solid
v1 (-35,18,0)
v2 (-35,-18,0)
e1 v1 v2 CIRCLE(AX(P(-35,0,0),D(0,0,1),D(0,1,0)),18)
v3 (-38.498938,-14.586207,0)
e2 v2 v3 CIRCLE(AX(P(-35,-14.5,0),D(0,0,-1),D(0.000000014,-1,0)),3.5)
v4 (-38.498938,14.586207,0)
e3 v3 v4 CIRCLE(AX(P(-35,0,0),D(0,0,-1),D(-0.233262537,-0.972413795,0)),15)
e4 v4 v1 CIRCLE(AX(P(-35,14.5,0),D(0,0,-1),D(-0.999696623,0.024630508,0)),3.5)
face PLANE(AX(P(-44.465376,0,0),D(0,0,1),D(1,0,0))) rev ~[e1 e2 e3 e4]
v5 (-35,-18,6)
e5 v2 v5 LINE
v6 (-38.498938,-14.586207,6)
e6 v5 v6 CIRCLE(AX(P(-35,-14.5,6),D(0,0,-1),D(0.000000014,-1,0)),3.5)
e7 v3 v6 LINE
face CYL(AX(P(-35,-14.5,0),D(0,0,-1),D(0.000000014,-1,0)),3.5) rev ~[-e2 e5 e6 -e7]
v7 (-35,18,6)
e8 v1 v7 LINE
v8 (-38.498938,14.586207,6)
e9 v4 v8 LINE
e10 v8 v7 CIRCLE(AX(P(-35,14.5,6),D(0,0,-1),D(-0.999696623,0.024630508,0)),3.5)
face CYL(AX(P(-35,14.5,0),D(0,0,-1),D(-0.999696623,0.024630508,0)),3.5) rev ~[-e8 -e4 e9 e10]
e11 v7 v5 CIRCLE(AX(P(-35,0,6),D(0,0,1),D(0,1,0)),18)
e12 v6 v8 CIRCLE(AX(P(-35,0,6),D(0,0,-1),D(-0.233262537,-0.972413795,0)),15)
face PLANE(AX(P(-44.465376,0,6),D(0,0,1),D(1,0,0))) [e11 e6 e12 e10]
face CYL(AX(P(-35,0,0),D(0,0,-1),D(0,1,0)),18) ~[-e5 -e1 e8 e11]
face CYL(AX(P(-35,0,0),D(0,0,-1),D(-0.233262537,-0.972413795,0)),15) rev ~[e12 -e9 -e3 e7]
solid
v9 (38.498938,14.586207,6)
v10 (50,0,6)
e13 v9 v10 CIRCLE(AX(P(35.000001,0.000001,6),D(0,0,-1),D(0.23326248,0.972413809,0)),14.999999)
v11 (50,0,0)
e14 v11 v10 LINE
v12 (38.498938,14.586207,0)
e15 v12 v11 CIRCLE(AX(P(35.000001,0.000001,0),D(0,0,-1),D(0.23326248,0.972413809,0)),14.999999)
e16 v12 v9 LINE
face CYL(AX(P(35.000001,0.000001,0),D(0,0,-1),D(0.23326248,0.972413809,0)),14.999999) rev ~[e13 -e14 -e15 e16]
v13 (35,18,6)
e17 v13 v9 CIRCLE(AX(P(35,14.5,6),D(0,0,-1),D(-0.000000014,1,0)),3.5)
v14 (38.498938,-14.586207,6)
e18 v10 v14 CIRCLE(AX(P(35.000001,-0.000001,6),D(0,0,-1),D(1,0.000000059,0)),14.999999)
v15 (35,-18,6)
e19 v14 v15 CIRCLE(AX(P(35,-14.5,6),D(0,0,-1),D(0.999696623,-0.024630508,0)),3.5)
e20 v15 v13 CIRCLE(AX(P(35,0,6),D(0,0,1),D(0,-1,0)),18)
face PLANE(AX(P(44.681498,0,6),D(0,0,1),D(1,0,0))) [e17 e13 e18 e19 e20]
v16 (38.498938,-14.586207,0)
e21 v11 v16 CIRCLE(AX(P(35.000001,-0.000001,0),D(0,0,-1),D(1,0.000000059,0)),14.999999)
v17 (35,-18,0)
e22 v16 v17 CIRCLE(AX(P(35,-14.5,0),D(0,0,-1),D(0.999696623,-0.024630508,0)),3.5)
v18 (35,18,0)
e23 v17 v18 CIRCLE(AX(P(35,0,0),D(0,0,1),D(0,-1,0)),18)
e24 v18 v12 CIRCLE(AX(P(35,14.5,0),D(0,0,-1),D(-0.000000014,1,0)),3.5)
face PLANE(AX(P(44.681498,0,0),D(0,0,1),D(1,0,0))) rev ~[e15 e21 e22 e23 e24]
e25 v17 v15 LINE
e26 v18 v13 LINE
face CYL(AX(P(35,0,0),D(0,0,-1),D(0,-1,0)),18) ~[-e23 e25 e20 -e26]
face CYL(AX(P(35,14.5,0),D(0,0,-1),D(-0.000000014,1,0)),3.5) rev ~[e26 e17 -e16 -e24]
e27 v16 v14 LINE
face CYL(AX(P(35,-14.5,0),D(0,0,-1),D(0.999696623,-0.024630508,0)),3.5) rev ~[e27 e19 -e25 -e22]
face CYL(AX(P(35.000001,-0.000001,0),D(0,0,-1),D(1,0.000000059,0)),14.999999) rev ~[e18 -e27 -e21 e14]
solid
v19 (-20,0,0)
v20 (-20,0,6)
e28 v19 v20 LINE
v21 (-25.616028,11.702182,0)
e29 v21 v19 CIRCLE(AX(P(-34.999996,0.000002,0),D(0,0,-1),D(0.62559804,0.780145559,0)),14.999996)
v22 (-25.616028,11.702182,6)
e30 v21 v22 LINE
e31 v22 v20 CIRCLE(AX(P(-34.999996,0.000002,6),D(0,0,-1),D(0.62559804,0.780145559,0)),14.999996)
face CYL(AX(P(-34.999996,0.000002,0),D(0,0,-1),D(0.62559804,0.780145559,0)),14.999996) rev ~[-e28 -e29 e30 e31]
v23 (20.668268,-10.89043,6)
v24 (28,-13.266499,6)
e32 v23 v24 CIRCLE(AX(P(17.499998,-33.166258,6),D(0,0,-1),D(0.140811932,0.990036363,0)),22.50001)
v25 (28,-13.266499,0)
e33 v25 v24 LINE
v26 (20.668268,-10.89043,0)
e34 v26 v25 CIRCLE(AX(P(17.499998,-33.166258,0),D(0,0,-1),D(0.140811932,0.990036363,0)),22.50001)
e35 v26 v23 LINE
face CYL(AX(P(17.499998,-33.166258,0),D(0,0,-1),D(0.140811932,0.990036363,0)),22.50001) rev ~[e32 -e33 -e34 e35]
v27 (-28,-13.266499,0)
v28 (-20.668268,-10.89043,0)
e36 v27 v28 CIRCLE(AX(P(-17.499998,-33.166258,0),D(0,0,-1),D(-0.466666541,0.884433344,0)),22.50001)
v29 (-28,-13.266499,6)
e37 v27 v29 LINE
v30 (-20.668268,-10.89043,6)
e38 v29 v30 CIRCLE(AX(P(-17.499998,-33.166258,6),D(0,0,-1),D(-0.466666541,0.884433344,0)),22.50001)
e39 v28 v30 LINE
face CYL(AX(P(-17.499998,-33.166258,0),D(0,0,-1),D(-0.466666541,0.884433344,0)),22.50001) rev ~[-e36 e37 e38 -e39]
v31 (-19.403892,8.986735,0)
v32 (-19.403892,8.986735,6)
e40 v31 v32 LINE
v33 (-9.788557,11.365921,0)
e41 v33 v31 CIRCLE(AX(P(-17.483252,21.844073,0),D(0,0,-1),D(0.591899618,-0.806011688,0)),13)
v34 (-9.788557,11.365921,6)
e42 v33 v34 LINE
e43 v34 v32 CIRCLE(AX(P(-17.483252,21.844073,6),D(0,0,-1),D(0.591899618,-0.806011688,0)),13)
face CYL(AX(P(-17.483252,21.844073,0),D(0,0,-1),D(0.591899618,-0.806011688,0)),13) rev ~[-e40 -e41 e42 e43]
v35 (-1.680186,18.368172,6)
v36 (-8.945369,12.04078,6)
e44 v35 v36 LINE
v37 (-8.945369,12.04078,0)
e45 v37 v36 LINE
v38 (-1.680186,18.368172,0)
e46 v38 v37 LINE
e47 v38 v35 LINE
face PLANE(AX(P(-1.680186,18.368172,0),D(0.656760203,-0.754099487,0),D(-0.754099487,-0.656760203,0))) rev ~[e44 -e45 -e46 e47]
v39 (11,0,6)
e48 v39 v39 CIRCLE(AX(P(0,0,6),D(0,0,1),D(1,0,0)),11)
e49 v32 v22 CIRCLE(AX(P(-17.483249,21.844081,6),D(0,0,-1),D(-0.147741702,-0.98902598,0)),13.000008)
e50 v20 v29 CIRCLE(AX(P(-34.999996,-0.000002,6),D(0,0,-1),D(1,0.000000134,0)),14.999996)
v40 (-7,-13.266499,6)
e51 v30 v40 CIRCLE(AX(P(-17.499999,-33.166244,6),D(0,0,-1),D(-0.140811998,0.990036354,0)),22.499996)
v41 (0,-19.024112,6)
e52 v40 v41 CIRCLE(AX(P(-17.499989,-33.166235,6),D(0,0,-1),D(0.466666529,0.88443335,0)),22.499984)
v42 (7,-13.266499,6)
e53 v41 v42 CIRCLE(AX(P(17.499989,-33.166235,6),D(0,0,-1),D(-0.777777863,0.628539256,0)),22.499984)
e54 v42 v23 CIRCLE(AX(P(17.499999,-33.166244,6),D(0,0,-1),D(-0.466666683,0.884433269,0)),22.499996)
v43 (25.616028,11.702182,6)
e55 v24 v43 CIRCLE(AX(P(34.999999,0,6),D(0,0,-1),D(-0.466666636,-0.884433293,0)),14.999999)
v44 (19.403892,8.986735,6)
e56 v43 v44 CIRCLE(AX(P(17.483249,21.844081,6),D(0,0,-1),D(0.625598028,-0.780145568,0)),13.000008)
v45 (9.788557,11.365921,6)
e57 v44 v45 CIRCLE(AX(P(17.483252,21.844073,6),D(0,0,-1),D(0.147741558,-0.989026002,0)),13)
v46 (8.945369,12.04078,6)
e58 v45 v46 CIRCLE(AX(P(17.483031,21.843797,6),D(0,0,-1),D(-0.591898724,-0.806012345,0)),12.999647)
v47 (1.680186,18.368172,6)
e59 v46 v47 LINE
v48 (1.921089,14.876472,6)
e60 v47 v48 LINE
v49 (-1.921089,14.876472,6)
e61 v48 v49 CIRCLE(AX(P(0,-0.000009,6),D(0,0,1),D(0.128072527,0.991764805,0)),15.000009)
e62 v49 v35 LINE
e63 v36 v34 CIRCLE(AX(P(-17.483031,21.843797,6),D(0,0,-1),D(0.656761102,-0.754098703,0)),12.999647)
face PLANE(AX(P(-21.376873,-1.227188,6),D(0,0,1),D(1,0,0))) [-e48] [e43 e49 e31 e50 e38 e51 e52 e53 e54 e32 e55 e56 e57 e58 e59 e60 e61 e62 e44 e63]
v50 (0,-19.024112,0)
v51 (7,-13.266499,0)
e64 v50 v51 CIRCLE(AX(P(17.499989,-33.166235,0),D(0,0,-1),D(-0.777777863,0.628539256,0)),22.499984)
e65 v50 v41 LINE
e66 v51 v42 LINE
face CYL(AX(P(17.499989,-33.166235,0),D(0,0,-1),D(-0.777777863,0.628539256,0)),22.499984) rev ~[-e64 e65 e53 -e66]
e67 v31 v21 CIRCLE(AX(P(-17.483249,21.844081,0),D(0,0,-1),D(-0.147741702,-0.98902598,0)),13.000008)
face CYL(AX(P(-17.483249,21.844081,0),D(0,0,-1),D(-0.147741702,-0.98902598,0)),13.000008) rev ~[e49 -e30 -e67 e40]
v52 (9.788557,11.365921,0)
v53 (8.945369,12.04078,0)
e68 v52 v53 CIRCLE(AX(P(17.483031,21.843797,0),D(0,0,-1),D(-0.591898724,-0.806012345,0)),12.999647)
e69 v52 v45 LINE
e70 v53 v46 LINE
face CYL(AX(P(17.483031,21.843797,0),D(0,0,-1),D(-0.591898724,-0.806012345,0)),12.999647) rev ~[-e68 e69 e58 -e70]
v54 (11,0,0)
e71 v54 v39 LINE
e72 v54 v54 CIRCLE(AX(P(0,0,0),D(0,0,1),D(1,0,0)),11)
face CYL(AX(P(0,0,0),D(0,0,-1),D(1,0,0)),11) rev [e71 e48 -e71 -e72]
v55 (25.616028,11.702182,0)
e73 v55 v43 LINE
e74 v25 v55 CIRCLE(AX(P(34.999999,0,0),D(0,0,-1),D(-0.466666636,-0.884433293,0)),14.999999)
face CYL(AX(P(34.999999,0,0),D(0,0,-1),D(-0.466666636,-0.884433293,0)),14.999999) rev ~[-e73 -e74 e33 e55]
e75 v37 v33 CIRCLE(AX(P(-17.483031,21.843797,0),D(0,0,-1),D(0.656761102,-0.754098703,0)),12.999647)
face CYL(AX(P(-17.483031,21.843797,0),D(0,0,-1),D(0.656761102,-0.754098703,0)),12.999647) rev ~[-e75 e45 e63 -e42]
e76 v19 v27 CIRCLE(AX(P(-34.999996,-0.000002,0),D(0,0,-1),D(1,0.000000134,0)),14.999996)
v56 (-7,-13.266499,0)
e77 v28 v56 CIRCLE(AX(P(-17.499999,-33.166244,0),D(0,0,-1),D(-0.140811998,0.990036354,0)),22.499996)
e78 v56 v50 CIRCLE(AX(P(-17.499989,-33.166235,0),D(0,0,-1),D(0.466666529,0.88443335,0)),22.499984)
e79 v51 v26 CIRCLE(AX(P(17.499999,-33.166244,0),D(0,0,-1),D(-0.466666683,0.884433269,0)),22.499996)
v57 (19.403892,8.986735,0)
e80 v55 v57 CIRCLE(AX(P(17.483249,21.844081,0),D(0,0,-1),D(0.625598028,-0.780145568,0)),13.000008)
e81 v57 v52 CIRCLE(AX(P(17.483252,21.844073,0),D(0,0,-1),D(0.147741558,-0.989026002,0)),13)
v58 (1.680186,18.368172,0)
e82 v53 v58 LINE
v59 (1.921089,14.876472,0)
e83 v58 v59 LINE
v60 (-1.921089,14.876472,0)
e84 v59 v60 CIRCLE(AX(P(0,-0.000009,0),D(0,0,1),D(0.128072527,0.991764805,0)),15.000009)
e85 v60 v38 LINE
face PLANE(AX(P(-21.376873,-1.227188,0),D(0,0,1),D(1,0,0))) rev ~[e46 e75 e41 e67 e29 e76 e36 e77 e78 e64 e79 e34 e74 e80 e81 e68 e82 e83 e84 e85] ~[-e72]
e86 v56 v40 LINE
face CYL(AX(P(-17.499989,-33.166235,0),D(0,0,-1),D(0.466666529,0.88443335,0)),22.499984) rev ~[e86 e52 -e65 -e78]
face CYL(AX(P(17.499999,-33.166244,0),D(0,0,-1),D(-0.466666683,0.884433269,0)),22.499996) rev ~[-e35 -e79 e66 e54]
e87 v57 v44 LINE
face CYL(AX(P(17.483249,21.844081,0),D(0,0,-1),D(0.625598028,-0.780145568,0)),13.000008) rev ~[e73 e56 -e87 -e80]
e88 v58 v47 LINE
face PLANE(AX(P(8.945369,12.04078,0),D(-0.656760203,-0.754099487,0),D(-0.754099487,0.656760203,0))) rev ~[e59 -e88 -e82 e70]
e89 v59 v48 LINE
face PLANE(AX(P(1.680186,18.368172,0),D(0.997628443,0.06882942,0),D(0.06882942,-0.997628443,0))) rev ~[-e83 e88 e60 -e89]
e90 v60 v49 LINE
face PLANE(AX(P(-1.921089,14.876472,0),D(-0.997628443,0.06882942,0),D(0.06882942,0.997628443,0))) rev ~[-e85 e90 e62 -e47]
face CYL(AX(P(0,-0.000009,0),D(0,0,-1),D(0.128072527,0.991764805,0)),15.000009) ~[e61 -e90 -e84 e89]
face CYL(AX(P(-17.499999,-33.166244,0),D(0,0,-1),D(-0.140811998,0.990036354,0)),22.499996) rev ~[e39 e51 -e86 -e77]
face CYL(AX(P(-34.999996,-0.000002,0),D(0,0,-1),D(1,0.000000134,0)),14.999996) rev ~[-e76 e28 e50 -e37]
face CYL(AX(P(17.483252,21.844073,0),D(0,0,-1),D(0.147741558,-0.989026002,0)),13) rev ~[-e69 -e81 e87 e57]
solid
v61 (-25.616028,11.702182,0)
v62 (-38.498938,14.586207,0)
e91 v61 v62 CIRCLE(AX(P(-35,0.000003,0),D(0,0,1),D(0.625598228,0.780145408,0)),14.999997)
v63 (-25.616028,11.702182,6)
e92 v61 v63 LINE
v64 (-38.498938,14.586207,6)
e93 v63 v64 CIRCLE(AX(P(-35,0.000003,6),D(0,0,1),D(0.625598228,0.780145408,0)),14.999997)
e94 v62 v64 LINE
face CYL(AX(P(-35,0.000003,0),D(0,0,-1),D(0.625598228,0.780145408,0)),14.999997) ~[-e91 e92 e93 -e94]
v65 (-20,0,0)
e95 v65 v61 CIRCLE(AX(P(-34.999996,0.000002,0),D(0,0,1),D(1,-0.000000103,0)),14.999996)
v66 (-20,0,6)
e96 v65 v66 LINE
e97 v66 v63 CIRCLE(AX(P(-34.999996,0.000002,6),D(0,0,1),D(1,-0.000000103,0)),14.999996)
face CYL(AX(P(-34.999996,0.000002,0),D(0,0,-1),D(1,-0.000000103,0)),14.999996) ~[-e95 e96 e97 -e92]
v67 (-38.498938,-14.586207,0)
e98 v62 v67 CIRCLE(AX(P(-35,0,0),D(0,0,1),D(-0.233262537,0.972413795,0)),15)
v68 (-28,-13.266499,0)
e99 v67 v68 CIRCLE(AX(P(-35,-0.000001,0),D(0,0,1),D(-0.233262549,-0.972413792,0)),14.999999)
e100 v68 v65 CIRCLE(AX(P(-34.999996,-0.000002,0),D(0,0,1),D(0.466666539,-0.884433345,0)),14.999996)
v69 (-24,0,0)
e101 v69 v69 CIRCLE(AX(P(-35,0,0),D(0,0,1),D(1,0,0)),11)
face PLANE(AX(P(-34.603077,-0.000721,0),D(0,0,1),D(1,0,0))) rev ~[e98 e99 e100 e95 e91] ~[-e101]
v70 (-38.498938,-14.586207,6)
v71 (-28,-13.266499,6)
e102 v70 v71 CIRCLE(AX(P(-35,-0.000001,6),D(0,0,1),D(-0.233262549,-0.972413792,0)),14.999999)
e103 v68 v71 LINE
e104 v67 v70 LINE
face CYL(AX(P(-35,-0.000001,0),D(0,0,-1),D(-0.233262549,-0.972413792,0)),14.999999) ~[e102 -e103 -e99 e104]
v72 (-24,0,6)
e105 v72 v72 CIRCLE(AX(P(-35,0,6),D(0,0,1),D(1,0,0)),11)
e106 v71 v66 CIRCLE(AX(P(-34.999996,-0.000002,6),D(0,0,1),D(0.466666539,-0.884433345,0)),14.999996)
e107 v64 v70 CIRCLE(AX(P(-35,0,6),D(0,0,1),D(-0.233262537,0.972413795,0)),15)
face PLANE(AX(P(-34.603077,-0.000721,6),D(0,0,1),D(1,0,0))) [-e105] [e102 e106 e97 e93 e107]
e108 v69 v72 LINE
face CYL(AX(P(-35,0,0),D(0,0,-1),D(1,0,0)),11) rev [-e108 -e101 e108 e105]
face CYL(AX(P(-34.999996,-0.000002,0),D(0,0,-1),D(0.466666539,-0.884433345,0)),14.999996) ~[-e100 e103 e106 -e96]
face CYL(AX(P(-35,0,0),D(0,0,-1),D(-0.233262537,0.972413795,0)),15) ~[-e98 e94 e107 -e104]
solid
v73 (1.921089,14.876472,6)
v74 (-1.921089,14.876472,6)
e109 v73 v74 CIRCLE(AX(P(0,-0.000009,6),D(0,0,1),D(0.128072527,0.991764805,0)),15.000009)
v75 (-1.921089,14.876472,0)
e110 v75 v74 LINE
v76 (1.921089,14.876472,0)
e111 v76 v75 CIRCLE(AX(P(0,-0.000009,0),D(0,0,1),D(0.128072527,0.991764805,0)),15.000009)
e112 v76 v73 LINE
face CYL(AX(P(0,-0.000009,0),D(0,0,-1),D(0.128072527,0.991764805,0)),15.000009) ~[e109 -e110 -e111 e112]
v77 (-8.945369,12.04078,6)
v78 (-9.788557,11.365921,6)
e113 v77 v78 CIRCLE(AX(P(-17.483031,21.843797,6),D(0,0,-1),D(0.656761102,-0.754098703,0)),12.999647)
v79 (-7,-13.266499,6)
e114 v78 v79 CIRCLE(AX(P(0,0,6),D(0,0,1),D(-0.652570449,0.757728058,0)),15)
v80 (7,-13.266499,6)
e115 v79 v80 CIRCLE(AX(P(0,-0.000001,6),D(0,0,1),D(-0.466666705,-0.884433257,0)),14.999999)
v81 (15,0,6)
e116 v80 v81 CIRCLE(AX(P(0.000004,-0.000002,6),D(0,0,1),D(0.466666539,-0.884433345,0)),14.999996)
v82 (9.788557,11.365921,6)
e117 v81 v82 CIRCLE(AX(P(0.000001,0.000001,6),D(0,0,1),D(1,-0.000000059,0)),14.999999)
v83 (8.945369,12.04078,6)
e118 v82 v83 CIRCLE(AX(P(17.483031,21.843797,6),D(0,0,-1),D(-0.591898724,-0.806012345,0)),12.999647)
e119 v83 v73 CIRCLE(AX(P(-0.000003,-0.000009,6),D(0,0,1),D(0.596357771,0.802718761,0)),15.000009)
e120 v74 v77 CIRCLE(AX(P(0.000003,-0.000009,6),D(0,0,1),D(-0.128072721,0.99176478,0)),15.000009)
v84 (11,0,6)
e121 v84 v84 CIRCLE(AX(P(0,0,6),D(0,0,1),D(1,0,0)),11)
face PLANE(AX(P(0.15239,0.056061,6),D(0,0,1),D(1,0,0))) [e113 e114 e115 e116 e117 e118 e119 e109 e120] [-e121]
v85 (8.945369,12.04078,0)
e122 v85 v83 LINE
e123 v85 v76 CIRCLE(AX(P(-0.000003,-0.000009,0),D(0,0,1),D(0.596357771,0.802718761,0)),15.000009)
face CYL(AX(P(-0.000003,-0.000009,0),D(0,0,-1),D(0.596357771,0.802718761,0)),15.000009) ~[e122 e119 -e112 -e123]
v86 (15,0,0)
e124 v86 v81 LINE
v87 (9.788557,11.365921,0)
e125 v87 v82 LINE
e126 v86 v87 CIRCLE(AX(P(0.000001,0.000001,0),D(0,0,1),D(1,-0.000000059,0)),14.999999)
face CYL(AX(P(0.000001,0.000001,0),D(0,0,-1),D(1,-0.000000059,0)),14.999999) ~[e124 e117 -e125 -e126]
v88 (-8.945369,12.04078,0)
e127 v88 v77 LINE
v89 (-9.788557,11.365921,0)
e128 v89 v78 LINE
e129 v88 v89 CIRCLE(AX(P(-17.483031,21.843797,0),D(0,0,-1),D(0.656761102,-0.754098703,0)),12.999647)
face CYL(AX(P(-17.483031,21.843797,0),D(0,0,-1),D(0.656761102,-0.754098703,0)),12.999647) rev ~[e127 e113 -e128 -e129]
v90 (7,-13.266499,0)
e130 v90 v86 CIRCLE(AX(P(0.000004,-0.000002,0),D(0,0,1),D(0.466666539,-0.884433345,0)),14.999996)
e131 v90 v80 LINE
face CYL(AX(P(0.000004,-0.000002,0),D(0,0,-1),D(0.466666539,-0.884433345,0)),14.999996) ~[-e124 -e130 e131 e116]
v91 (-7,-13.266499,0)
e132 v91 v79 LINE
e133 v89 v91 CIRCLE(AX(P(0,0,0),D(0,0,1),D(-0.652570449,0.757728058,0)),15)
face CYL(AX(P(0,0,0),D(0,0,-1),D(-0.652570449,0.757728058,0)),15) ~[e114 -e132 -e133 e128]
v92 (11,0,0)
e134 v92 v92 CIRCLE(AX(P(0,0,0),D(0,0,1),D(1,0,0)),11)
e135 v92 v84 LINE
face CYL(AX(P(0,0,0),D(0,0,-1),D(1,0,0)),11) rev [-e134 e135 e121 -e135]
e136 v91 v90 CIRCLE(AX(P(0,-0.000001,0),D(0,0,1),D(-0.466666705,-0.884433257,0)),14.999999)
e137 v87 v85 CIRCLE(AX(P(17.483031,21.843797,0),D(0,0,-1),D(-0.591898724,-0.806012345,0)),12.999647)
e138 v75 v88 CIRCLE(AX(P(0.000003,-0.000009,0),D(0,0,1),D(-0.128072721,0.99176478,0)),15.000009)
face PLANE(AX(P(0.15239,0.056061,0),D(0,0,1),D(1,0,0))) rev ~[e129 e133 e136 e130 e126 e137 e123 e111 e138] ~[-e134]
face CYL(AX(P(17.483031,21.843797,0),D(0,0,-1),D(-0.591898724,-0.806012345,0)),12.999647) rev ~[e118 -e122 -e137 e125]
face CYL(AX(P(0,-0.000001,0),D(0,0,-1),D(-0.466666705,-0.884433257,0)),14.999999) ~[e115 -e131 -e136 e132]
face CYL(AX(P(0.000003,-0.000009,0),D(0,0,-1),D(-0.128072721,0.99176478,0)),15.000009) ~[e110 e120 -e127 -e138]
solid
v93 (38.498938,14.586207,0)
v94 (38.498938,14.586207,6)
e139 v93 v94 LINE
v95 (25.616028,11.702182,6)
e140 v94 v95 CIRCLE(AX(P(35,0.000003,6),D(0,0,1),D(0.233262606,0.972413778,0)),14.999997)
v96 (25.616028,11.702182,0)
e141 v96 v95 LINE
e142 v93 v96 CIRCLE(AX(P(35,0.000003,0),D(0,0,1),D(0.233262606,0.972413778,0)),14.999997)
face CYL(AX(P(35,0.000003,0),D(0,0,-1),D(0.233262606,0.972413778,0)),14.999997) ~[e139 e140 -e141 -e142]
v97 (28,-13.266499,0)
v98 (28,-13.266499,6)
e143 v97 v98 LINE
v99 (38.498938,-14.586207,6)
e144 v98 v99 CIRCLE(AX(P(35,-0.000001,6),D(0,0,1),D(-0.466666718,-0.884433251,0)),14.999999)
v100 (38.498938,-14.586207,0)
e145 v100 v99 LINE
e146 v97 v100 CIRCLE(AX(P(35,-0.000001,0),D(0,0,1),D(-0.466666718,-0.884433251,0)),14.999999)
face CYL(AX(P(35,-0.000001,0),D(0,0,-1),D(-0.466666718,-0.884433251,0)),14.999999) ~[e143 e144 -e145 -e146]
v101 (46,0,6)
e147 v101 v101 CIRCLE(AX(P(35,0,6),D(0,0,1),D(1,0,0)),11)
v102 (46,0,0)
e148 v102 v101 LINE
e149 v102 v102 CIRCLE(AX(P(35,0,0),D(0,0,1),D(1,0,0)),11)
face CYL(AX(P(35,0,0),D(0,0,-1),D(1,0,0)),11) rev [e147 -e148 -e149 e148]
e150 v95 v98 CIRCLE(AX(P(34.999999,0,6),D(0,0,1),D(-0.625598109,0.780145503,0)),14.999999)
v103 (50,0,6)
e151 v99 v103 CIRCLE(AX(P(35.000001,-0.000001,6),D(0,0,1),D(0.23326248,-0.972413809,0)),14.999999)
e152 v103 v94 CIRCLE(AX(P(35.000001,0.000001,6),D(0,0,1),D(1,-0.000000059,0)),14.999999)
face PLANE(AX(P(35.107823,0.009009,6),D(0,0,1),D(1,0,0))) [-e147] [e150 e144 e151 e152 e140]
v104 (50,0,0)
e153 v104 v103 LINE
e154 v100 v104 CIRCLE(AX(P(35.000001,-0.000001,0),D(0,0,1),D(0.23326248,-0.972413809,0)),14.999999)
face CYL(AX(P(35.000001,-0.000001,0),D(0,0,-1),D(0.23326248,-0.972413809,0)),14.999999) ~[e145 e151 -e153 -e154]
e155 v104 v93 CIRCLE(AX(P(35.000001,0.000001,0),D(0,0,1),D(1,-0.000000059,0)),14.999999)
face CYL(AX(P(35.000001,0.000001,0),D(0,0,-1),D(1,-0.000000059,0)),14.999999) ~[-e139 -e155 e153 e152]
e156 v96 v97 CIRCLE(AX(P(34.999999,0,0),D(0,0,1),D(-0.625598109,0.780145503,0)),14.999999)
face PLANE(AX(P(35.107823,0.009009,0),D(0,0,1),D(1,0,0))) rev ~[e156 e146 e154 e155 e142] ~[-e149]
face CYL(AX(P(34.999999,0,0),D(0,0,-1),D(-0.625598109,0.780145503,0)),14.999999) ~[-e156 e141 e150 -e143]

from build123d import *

# Parameters (mm, degrees)
F0_R     = 11
F1_DEPTH = 6
F2_DEPTH = 6
F3_DEPTH = 6


with BuildPart() as f1:
    # F0 (on Top) → F1 (new body)
    with BuildSketch(Plane.XY):
        with BuildLine():
            ThreePointArc((15, 0), (13.635035, 6.251866), (9.788557, 11.365921))
            ThreePointArc((9.788557, 11.365921), (9.359952, 11.69459), (8.945369, 12.04078))
            ThreePointArc((8.945369, 12.04078), (5.615181, 13.90934), (1.921089, 14.876472))
            ThreePointArc((1.921089, 14.876472), (0, 15), (-1.921089, 14.876472))
            ThreePointArc((-1.921089, 14.876472), (-5.615181, 13.90934), (-8.945369, 12.04078))
            ThreePointArc((-8.945369, 12.04078), (-9.359952, 11.69459), (-9.788557, 11.365921))
            ThreePointArc((-9.788557, 11.365921), (-14.904796, -1.687324), (-7, -13.266499))
            ThreePointArc((-7, -13.266499), (0, -15), (7, -13.266499))
            ThreePointArc((7, -13.266499), (12.845233, -7.745967), (15, 0))
        make_face()
        Circle(F0_R, mode=Mode.SUBTRACT)
    extrude(amount=F1_DEPTH)


with BuildPart() as f2:
    # F0 (on Top) → F2 (new body)
    with BuildSketch(Plane.XY):
        with BuildLine():
            ThreePointArc((-35, -18), (-37.444205, -17.005167), (-38.498938, -14.586207))
            ThreePointArc((-38.498938, -14.586207), (-50, 0), (-38.498938, 14.586207))
            ThreePointArc((-38.498938, 14.586207), (-37.444205, 17.005167), (-35, 18))
            ThreePointArc((-35, 18), (-53, 0), (-35, -18))
        make_face()
        with BuildLine():
            ThreePointArc((-28, -13.266499), (-24.436628, -11.762202), (-20.668268, -10.89043))
            ThreePointArc((-20.668268, -10.89043), (-17.036305, -1.142662), (-19.403892, 8.986735))
            ThreePointArc((-19.403892, 8.986735), (-22.690094, 9.932365), (-25.616028, 11.702182))
            ThreePointArc((-25.616028, 11.702182), (-21.476694, 6.490008), (-20, 0))
            ThreePointArc((-20, 0), (-22.154767, -7.745967), (-28, -13.266499))
        make_face()
        with BuildLine():
            ThreePointArc((-20.668268, -10.89043), (-13.64643, -10.998704), (-7, -13.266499))
            ThreePointArc((-7, -13.266499), (-14.904796, -1.687324), (-9.788557, 11.365921))
            ThreePointArc((-9.788557, 11.365921), (-14.360743, 9.224646), (-19.403892, 8.986735))
            ThreePointArc((-19.403892, 8.986735), (-17.036305, -1.142662), (-20.668268, -10.89043))
        make_face()
        with BuildLine():
            ThreePointArc((15, 0), (13.635035, 6.251866), (9.788557, 11.365921))
            ThreePointArc((9.788557, 11.365921), (9.359952, 11.69459), (8.945369, 12.04078))
            ThreePointArc((8.945369, 12.04078), (5.615181, 13.90934), (1.921089, 14.876472))
            ThreePointArc((1.921089, 14.876472), (0, 15), (-1.921089, 14.876472))
            ThreePointArc((-1.921089, 14.876472), (-5.615181, 13.90934), (-8.945369, 12.04078))
            ThreePointArc((-8.945369, 12.04078), (-9.359952, 11.69459), (-9.788557, 11.365921))
            ThreePointArc((-9.788557, 11.365921), (-14.904796, -1.687324), (-7, -13.266499))
            ThreePointArc((-7, -13.266499), (0, -15), (7, -13.266499))
            ThreePointArc((7, -13.266499), (12.845233, -7.745967), (15, 0))
        make_face()
        Circle(F0_R, mode=Mode.SUBTRACT)
        with BuildLine():
            ThreePointArc((0, -19.024112), (3.207081, -15.78918), (7, -13.266499))
            ThreePointArc((7, -13.266499), (0, -15), (-7, -13.266499))
            ThreePointArc((-7, -13.266499), (-3.207081, -15.78918), (0, -19.024112))
        make_face()
        with BuildLine():
            ThreePointArc((19.403892, 8.986735), (14.360743, 9.224646), (9.788557, 11.365921))
            ThreePointArc((9.788557, 11.365921), (13.635035, 6.251866), (15, 0))
            ThreePointArc((15, 0), (12.845233, -7.745967), (7, -13.266499))
            ThreePointArc((7, -13.266499), (13.64643, -10.998704), (20.668268, -10.89043))
            ThreePointArc((20.668268, -10.89043), (17.036305, -1.142662), (19.403892, 8.986735))
        make_face()
        with BuildLine():
            ThreePointArc((25.616028, 11.702182), (22.690094, 9.932365), (19.403892, 8.986735))
            ThreePointArc((19.403892, 8.986735), (17.036305, -1.142662), (20.668268, -10.89043))
            ThreePointArc((20.668268, -10.89043), (24.436628, -11.762202), (28, -13.266499))
            ThreePointArc((28, -13.266499), (20.067907, -1.425694), (25.616028, 11.702182))
        make_face()
        with BuildLine():
            ThreePointArc((35, 18), (37.444205, 17.005167), (38.498938, 14.586207))
            ThreePointArc((38.498938, 14.586207), (46.778881, 9.287517), (50, 0))
            ThreePointArc((50, 0), (46.778881, -9.287517), (38.498938, -14.586207))
            ThreePointArc((38.498938, -14.586207), (37.444205, -17.005167), (35, -18))
            ThreePointArc((35, -18), (53, 0), (35, 18))
        make_face()
        with BuildLine():
            ThreePointArc((-8.945369, 12.04078), (-5.615181, 13.90934), (-1.921089, 14.876472))
            Line((-1.921089, 14.876472), (-1.680186, 18.368172))
            Line((-1.680186, 18.368172), (-8.945369, 12.04078))
        make_face()
        with BuildLine():
            ThreePointArc((1.921089, 14.876472), (5.615181, 13.90934), (8.945369, 12.04078))
            Line((8.945369, 12.04078), (1.680186, 18.368172))
            Line((1.680186, 18.368172), (1.921089, 14.876472))
        make_face()
    extrude(amount=F2_DEPTH)


with BuildPart() as f3:
    # F0 (on Top) → F3 (new body)
    with BuildSketch(Plane.XY):
        with BuildLine():
            ThreePointArc((38.498938, 14.586207), (31.723141, 14.637698), (25.616028, 11.702182))
            ThreePointArc((25.616028, 11.702182), (20.067907, -1.425694), (28, -13.266499))
            ThreePointArc((28, -13.266499), (33.129234, -14.882884), (38.498938, -14.586207))
            ThreePointArc((38.498938, -14.586207), (46.778881, -9.287517), (50, 0))
            ThreePointArc((50, 0), (46.778881, 9.287517), (38.498938, 14.586207))
        make_face()
        with Locations((35, 0)):
            Circle(F0_R, mode=Mode.SUBTRACT)
        with BuildLine():
            ThreePointArc((-38.498938, -14.586207), (-33.129234, -14.882884), (-28, -13.266499))
            ThreePointArc((-28, -13.266499), (-22.154767, -7.745967), (-20, 0))
            ThreePointArc((-20, 0), (-21.476694, 6.490008), (-25.616028, 11.702182))
            ThreePointArc((-25.616028, 11.702182), (-31.723141, 14.637698), (-38.498938, 14.586207))
            ThreePointArc((-38.498938, 14.586207), (-50, 0), (-38.498938, -14.586207))
        make_face()
        with Locations((-35, 0)):
            Circle(F0_R, mode=Mode.SUBTRACT)
    extrude(amount=F3_DEPTH)


solid = Compound([f1.part, f2.part, f3.part])
